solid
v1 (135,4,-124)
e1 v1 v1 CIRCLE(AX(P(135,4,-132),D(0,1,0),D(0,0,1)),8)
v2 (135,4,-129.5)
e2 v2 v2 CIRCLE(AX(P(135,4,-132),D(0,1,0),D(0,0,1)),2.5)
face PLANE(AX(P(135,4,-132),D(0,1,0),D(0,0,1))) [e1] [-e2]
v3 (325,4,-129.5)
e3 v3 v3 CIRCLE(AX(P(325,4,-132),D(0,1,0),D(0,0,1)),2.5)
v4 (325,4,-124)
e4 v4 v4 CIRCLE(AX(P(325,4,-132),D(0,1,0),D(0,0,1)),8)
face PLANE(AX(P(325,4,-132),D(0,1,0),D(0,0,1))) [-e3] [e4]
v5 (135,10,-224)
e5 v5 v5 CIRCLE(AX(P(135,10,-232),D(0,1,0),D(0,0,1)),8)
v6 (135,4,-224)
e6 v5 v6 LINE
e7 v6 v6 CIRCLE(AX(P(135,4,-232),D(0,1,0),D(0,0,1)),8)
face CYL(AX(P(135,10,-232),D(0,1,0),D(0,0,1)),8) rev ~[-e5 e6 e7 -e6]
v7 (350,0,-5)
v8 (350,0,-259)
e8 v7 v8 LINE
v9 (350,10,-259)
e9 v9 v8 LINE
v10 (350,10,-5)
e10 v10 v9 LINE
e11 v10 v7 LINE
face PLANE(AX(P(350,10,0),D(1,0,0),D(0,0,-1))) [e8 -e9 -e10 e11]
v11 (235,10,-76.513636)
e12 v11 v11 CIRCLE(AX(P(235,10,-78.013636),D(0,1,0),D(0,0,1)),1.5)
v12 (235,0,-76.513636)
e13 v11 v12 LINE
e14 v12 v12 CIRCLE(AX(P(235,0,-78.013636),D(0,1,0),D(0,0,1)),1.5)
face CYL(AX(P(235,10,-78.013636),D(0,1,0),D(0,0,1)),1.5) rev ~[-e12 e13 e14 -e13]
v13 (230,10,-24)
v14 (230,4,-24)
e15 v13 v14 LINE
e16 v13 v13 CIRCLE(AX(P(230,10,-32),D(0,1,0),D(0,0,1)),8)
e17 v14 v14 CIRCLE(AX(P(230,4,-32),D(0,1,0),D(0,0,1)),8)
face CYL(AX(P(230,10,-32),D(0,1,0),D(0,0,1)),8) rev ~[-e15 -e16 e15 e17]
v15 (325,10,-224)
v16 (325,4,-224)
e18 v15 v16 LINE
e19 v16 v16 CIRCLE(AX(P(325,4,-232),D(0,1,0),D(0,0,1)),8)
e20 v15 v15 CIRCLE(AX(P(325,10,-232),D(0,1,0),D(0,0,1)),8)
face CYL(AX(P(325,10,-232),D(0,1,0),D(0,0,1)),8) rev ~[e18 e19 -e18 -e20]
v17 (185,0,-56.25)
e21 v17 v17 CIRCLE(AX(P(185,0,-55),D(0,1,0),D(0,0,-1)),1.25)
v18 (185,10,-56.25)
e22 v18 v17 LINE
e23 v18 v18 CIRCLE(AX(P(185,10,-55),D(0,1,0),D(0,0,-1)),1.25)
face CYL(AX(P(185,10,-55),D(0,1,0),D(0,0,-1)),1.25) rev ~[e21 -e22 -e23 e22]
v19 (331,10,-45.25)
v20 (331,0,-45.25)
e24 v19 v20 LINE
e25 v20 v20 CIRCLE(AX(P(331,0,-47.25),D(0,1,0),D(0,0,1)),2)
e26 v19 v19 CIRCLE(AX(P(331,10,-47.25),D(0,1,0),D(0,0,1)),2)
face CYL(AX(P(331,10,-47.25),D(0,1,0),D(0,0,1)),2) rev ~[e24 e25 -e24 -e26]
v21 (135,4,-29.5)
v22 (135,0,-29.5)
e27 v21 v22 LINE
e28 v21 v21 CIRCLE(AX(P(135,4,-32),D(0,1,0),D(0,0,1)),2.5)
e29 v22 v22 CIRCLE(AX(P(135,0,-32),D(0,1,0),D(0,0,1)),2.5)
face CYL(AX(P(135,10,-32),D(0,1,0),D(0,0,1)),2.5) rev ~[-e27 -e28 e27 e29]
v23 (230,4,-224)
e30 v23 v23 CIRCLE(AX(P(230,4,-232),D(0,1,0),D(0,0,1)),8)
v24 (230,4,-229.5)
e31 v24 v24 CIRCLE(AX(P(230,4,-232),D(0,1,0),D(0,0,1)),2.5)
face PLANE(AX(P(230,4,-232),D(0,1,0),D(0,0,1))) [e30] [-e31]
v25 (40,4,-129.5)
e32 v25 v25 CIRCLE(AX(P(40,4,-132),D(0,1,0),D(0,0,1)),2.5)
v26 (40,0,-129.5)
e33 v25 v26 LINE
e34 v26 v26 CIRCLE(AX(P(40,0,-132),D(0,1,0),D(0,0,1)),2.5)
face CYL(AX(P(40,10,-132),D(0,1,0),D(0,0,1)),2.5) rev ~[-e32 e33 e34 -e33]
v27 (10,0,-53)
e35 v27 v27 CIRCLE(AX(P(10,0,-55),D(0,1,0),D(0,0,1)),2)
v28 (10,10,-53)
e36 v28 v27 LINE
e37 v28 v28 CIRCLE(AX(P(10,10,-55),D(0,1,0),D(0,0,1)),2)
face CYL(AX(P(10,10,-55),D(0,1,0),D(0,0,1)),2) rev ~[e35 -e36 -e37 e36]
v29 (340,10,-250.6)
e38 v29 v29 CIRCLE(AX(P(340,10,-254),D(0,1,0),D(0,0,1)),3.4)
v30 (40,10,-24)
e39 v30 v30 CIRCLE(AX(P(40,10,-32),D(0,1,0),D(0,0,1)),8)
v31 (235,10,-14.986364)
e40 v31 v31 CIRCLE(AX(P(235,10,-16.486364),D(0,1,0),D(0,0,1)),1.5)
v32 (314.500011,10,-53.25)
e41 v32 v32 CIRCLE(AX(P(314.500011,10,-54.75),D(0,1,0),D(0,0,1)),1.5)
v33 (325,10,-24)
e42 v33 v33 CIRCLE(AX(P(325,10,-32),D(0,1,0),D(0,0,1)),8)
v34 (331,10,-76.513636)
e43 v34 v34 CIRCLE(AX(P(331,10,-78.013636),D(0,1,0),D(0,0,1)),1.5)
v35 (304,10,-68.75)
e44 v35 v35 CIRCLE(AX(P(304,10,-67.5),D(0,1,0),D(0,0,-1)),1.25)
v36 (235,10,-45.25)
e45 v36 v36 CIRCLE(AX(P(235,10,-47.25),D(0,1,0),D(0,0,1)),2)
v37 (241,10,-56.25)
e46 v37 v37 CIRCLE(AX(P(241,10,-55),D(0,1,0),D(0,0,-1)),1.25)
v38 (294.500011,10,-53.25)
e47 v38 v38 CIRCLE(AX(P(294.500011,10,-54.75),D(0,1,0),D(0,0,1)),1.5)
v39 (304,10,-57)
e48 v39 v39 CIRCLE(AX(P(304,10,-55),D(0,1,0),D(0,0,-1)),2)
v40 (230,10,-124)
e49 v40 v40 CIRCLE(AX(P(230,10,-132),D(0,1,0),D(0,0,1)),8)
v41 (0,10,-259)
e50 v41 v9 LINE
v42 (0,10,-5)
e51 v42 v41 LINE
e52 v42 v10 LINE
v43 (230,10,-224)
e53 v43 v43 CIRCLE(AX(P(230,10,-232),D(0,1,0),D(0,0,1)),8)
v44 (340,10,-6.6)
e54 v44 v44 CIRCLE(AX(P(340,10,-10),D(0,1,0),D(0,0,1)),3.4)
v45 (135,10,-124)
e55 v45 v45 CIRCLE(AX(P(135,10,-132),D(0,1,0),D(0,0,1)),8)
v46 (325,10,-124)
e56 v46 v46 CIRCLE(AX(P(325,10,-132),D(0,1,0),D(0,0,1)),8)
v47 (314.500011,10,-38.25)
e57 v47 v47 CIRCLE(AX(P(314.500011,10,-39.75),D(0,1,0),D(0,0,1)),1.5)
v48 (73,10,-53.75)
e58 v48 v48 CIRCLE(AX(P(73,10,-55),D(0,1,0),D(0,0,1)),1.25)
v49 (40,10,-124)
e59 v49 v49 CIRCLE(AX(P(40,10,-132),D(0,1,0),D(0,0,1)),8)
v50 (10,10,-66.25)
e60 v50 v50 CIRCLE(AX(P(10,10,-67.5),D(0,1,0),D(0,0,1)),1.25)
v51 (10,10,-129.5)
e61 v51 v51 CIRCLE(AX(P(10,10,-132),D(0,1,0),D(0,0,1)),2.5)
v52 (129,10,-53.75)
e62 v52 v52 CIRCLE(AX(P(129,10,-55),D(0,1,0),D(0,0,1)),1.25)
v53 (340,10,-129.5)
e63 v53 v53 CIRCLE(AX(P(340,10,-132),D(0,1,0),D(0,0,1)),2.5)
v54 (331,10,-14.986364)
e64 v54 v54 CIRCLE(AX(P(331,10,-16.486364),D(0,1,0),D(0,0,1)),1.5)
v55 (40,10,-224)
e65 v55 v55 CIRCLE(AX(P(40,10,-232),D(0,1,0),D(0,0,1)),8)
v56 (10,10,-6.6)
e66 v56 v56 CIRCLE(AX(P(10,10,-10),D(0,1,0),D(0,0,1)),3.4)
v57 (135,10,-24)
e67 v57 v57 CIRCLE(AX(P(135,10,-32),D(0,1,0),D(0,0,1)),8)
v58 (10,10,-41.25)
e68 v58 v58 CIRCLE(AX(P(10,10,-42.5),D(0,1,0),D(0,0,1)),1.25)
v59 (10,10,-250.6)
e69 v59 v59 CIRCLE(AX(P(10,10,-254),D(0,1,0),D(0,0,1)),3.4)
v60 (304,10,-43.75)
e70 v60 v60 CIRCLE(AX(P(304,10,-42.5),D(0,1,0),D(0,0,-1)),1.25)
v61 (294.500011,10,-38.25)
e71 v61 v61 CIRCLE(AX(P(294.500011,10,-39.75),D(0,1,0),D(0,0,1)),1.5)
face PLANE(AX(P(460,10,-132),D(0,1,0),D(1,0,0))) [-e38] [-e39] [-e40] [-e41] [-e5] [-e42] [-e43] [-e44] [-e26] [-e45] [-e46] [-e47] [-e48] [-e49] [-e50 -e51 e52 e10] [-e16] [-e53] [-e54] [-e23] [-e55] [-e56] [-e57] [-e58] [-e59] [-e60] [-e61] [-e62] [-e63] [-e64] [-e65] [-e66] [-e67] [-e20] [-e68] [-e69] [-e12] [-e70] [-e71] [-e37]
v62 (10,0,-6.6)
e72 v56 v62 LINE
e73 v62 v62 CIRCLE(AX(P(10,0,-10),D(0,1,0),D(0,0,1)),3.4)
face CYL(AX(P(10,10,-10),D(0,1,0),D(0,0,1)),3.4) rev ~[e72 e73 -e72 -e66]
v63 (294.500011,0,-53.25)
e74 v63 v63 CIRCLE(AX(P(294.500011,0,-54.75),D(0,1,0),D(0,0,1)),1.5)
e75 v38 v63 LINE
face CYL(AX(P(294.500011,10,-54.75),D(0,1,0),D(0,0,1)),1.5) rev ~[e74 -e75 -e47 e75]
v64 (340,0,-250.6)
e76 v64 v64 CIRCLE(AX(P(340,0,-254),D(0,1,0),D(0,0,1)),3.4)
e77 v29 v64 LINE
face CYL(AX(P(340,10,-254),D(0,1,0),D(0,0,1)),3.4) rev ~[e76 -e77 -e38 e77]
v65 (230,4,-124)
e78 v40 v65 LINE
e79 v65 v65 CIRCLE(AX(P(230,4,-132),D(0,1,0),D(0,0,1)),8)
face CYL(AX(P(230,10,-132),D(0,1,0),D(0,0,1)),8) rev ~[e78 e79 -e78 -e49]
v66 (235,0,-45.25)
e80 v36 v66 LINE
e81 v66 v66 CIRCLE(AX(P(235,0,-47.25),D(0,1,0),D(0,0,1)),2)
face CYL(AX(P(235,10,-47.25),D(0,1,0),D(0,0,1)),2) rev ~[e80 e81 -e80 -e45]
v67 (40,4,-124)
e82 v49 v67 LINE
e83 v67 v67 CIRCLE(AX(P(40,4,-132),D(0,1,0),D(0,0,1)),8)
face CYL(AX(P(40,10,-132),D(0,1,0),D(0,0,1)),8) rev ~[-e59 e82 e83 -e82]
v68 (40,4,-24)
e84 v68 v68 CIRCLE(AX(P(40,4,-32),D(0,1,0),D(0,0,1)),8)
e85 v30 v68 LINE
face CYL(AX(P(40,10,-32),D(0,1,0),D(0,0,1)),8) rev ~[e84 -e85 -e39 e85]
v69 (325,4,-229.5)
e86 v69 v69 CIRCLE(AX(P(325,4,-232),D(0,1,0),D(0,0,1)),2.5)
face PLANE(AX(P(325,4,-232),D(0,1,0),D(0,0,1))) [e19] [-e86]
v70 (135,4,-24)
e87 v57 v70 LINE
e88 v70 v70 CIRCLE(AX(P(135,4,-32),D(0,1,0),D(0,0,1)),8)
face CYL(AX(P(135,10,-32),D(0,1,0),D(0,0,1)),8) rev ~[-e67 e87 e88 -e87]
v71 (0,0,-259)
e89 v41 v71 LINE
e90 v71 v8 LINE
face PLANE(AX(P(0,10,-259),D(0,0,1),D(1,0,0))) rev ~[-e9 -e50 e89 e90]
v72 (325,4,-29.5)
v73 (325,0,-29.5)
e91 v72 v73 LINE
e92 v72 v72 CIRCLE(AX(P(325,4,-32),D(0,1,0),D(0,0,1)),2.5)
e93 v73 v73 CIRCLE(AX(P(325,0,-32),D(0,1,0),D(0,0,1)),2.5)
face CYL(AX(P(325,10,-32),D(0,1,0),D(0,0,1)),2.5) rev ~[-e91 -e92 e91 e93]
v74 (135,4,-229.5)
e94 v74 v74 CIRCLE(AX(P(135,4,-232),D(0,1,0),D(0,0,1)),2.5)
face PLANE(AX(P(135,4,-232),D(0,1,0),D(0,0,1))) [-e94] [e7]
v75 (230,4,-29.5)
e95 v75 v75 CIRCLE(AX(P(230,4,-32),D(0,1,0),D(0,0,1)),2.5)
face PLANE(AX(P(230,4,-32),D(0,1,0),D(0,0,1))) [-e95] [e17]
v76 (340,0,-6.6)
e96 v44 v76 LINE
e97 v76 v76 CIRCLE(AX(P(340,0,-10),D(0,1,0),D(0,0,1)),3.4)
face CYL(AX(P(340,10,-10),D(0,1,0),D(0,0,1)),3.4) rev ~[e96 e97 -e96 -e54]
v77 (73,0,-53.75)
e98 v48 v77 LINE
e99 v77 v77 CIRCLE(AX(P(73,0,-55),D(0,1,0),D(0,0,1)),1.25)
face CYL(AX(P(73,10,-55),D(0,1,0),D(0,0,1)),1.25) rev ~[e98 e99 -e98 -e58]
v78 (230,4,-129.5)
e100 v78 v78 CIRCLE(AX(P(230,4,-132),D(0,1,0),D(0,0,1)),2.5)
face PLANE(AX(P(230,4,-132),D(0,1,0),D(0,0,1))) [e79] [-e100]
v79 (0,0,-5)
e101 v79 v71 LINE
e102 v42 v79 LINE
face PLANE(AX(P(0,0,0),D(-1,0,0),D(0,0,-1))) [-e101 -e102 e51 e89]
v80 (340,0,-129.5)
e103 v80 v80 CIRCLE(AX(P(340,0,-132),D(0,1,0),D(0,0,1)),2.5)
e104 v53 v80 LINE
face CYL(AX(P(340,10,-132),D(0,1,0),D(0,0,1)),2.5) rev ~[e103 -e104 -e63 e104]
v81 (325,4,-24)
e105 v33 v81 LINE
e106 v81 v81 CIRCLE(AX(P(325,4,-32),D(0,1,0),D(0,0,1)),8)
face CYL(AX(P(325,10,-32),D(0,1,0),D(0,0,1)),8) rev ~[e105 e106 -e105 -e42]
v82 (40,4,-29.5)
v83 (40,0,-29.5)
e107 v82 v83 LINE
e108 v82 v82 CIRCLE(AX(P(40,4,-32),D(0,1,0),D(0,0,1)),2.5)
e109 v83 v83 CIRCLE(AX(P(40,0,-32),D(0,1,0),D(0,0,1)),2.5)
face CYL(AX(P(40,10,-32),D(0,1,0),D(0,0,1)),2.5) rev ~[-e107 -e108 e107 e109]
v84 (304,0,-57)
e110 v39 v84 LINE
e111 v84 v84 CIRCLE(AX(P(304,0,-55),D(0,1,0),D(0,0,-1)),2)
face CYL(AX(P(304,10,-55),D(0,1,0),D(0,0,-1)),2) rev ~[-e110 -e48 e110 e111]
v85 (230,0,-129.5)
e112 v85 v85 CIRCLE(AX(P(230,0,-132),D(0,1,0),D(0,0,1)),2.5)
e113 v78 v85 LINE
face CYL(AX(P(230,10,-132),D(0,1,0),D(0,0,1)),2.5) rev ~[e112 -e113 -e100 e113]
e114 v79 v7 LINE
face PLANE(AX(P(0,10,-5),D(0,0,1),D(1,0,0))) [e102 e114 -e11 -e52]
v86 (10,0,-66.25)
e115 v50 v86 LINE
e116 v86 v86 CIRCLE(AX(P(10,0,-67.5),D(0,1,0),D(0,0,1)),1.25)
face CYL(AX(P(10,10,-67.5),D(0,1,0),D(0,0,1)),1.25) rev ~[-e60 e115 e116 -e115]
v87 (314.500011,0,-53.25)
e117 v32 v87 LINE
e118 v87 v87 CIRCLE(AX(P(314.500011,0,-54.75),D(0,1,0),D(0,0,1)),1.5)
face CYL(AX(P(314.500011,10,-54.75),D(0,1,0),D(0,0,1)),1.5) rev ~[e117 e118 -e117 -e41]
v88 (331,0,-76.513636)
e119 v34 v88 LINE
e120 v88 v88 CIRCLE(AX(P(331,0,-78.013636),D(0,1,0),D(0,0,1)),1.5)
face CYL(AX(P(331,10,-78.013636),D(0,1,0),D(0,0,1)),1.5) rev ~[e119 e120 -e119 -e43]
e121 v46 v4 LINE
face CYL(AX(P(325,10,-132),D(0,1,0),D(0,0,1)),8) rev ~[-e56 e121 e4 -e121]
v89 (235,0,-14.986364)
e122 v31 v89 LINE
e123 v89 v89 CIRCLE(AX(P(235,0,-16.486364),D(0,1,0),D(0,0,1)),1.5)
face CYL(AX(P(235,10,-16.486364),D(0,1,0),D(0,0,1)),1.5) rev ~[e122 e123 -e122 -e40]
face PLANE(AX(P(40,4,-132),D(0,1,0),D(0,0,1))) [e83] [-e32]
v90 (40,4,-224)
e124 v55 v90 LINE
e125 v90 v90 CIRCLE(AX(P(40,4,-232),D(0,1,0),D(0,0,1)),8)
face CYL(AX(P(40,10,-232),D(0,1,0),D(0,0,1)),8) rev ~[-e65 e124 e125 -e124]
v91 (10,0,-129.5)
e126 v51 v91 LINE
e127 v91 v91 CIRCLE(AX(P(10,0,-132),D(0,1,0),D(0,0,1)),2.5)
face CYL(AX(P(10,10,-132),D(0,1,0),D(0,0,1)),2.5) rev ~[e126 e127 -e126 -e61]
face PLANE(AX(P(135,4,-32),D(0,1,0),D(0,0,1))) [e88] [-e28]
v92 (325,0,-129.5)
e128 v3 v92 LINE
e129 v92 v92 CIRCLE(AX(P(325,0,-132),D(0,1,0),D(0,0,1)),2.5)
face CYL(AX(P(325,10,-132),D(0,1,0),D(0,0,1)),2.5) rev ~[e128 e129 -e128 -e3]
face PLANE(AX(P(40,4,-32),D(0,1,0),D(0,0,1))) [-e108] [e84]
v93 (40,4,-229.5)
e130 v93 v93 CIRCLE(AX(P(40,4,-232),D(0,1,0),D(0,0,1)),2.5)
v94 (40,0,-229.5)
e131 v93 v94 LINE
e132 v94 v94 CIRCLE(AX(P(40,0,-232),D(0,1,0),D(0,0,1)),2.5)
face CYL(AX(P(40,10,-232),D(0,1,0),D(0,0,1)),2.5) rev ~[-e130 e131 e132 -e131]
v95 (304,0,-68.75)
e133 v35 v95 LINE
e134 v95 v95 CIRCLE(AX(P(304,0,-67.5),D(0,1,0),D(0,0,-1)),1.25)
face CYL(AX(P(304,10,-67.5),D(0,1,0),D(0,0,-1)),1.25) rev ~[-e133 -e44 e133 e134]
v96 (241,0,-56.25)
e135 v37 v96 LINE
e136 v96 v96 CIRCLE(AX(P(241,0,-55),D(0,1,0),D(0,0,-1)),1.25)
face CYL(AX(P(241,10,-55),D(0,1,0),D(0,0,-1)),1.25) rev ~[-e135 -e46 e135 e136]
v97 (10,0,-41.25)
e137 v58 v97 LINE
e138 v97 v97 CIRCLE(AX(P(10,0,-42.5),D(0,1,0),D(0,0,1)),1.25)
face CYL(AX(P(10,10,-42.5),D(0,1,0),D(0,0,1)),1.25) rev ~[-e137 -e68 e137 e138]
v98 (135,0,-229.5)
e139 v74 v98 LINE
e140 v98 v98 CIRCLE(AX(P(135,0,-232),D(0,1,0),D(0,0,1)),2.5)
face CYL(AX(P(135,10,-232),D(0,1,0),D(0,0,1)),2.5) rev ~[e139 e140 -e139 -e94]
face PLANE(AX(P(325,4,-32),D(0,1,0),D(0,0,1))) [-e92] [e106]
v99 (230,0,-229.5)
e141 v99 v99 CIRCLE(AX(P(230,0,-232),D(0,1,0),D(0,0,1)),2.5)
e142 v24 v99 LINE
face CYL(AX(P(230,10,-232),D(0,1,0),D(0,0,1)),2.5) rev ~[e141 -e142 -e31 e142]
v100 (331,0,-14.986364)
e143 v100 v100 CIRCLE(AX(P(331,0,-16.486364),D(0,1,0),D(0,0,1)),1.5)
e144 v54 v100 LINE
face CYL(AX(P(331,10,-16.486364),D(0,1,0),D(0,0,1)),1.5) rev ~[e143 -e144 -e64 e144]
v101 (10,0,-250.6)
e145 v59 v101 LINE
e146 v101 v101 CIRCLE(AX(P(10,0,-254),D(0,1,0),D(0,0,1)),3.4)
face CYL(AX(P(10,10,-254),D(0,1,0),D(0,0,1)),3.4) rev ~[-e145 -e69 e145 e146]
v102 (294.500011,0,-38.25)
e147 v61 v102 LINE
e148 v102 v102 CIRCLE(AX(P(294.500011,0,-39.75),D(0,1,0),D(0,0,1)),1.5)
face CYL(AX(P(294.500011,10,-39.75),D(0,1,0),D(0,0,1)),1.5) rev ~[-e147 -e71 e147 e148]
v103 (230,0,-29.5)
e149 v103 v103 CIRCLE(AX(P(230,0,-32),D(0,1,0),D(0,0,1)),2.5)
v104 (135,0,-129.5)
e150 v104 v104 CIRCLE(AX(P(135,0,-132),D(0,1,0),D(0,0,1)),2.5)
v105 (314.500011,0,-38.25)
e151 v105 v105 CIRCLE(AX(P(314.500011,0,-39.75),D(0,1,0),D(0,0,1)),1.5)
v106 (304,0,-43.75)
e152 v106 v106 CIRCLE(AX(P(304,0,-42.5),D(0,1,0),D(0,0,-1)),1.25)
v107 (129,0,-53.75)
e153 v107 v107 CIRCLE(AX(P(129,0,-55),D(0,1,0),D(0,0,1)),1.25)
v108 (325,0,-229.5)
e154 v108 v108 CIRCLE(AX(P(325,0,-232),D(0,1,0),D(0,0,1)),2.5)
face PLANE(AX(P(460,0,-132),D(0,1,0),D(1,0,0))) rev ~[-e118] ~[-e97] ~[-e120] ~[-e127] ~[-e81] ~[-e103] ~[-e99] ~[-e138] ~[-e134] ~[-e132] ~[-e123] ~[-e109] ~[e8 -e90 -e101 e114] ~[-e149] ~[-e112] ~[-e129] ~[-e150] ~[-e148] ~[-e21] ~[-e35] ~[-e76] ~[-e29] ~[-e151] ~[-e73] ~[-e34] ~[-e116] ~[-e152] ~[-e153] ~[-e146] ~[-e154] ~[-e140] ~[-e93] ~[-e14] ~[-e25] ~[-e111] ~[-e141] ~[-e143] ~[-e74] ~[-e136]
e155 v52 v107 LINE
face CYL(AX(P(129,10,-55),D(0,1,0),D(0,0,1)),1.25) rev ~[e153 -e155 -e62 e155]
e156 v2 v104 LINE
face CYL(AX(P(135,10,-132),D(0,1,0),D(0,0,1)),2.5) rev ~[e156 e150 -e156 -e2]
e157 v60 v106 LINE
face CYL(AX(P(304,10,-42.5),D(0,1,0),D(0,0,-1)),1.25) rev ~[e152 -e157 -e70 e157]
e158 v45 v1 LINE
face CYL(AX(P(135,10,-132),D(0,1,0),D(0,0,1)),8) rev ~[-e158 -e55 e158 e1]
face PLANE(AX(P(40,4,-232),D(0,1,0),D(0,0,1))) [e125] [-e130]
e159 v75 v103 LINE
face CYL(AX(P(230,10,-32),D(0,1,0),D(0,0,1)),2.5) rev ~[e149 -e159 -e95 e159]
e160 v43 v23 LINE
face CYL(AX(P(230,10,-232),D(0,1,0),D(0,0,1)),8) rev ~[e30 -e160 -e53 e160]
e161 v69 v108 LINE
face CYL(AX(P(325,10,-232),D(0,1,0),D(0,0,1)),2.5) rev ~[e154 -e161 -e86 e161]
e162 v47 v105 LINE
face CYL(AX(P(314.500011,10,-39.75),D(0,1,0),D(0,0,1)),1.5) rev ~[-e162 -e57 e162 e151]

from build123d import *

# Parameters (mm, degrees)
SKETCH2_W           = 920
SKETCH2_H           = 264
BOSS_EXTRUDE1_DEPTH = 10
SKETCH1_R           = 2.5
CUT_EXTRUDE2_DEPTH  = 18
SKETCH3_R           = 8
CUT_EXTRUDE3_DEPTH  = 6
SKETCH4_W           = 570
SKETCH4_H           = 264
CUT_EXTRUDE4_DEPTH  = 20
SKETCH7_R           = 3.4
SKETCH7_R_2         = 2.5
CUT_EXTRUDE5_DEPTH  = 20
SKETCH8_W           = 350
SKETCH8_H           = 5
CUT_EXTRUDE6_DEPTH  = 10
SKETCH9_R           = 1.25
SKETCH9_R_2         = 2
CUT_EXTRUDE7_DEPTH  = 10
SKETCH10_R          = 1.5
SKETCH10_R_2        = 2
CUT_EXTRUDE8_DEPTH  = 10


with BuildPart() as part:
    # Sketch2 → Boss-Extrude1 (new body)
    with BuildSketch(Plane(origin=(0, 0, 0), x_dir=(1, 0, 0), z_dir=(0, 1, 0))):
        with Locations((460, 132)):
            Rectangle(SKETCH2_W, SKETCH2_H)
    extrude(amount=BOSS_EXTRUDE1_DEPTH)

    # Sketch1 → Cut-Extrude2 (cut)
    with BuildSketch(Plane(origin=(0, 10, 0), x_dir=(1, 0, 0), z_dir=(0, 1, 0))):
        with Locations(Location((40, 32, 0), (0, 0, 270))):
            Circle(SKETCH1_R)
        with Locations(Location((135, 32, 0), (0, 0, 270))):
            Circle(SKETCH1_R)
        with Locations(Location((230, 32, 0), (0, 0, 270))):
            Circle(SKETCH1_R)
        with Locations(Location((325, 32, 0), (0, 0, 270))):
            Circle(SKETCH1_R)
        with Locations(Location((420, 32, 0), (0, 0, 270))):
            Circle(SKETCH1_R)
        with Locations(Location((515, 32, 0), (0, 0, 270))):
            Circle(SKETCH1_R)
        with Locations(Location((610, 32, 0), (0, 0, 270))):
            Circle(SKETCH1_R)
        with Locations(Location((705, 32, 0), (0, 0, 270))):
            Circle(SKETCH1_R)
        with Locations(Location((800, 32, 0), (0, 0, 270))):
            Circle(SKETCH1_R)
        with Locations(Location((895, 32, 0), (0, 0, 270))):
            Circle(SKETCH1_R)
        with Locations(Location((135, 132, 0), (0, 0, 270))):
            Circle(SKETCH1_R)
        with Locations(Location((230, 132, 0), (0, 0, 270))):
            Circle(SKETCH1_R)
        with Locations(Location((325, 132, 0), (0, 0, 270))):
            Circle(SKETCH1_R)
        with Locations(Location((420, 132, 0), (0, 0, 270))):
            Circle(SKETCH1_R)
        with Locations(Location((515, 132, 0), (0, 0, 270))):
            Circle(SKETCH1_R)
        with Locations(Location((610, 132, 0), (0, 0, 270))):
            Circle(SKETCH1_R)
        with Locations(Location((705, 132, 0), (0, 0, 270))):
            Circle(SKETCH1_R)
        with Locations(Location((800, 132, 0), (0, 0, 270))):
            Circle(SKETCH1_R)
        with Locations(Location((895, 132, 0), (0, 0, 270))):
            Circle(SKETCH1_R)
        with Locations(Location((135, 232, 0), (0, 0, 270))):
            Circle(SKETCH1_R)
        with Locations(Location((230, 232, 0), (0, 0, 270))):
            Circle(SKETCH1_R)
        with Locations(Location((325, 232, 0), (0, 0, 270))):
            Circle(SKETCH1_R)
        with Locations(Location((420, 232, 0), (0, 0, 270))):
            Circle(SKETCH1_R)
        with Locations(Location((515, 232, 0), (0, 0, 270))):
            Circle(SKETCH1_R)
        with Locations(Location((610, 232, 0), (0, 0, 270))):
            Circle(SKETCH1_R)
        with Locations(Location((705, 232, 0), (0, 0, 270))):
            Circle(SKETCH1_R)
        with Locations(Location((800, 232, 0), (0, 0, 270))):
            Circle(SKETCH1_R)
        with Locations(Location((895, 232, 0), (0, 0, 270))):
            Circle(SKETCH1_R)
        with Locations(Location((40, 132, 0), (0, 0, 270))):
            Circle(SKETCH1_R)
        with Locations(Location((40, 232, 0), (0, 0, 270))):
            Circle(SKETCH1_R)
    extrude(amount=-CUT_EXTRUDE2_DEPTH, mode=Mode.SUBTRACT)

    # Sketch3 → Cut-Extrude3 (cut)
    with BuildSketch(Plane(origin=(0, 10, 0), x_dir=(1, 0, 0), z_dir=(0, 1, 0))):
        with Locations(Location((40, 32, 0), (0, 0, 270))):
            Circle(SKETCH3_R)
        with Locations(Location((135, 32, 0), (0, 0, 270))):
            Circle(SKETCH3_R)
        with Locations(Location((230, 32, 0), (0, 0, 270))):
            Circle(SKETCH3_R)
        with Locations(Location((325, 32, 0), (0, 0, 270))):
            Circle(SKETCH3_R)
        with Locations(Location((420, 32, 0), (0, 0, 270))):
            Circle(SKETCH3_R)
        with Locations(Location((515, 32, 0), (0, 0, 270))):
            Circle(SKETCH3_R)
        with Locations(Location((610, 32, 0), (0, 0, 270))):
            Circle(SKETCH3_R)
        with Locations(Location((705, 32, 0), (0, 0, 270))):
            Circle(SKETCH3_R)
        with Locations(Location((800, 32, 0), (0, 0, 270))):
            Circle(SKETCH3_R)
        with Locations(Location((895, 32, 0), (0, 0, 270))):
            Circle(SKETCH3_R)
        with Locations(Location((135, 132, 0), (0, 0, 270))):
            Circle(SKETCH3_R)
        with Locations(Location((230, 132, 0), (0, 0, 270))):
            Circle(SKETCH3_R)
        with Locations(Location((325, 132, 0), (0, 0, 270))):
            Circle(SKETCH3_R)
        with Locations(Location((420, 132, 0), (0, 0, 270))):
            Circle(SKETCH3_R)
        with Locations(Location((515, 132, 0), (0, 0, 270))):
            Circle(SKETCH3_R)
        with Locations(Location((610, 132, 0), (0, 0, 270))):
            Circle(SKETCH3_R)
        with Locations(Location((705, 132, 0), (0, 0, 270))):
            Circle(SKETCH3_R)
        with Locations(Location((800, 132, 0), (0, 0, 270))):
            Circle(SKETCH3_R)
        with Locations(Location((895, 132, 0), (0, 0, 270))):
            Circle(SKETCH3_R)
        with Locations(Location((135, 232, 0), (0, 0, 270))):
            Circle(SKETCH3_R)
        with Locations(Location((230, 232, 0), (0, 0, 270))):
            Circle(SKETCH3_R)
        with Locations(Location((325, 232, 0), (0, 0, 270))):
            Circle(SKETCH3_R)
        with Locations(Location((420, 232, 0), (0, 0, 270))):
            Circle(SKETCH3_R)
        with Locations(Location((515, 232, 0), (0, 0, 270))):
            Circle(SKETCH3_R)
        with Locations(Location((610, 232, 0), (0, 0, 270))):
            Circle(SKETCH3_R)
        with Locations(Location((705, 232, 0), (0, 0, 270))):
            Circle(SKETCH3_R)
        with Locations(Location((800, 232, 0), (0, 0, 270))):
            Circle(SKETCH3_R)
        with Locations(Location((895, 232, 0), (0, 0, 270))):
            Circle(SKETCH3_R)
        with Locations(Location((40, 132, 0), (0, 0, 270))):
            Circle(SKETCH3_R)
        with Locations(Location((40, 232, 0), (0, 0, 270))):
            Circle(SKETCH3_R)
    extrude(amount=-CUT_EXTRUDE3_DEPTH, mode=Mode.SUBTRACT)

    # Sketch4 → Cut-Extrude4 (cut)
    with BuildSketch(Plane(origin=(0, 10, 0), x_dir=(1, 0, 0), z_dir=(0, 1, 0))):
        with Locations((635, 132)):
            Rectangle(SKETCH4_W, SKETCH4_H)
    extrude(amount=-CUT_EXTRUDE4_DEPTH, mode=Mode.SUBTRACT)

    # Sketch7 → Cut-Extrude5 (cut)
    with BuildSketch(Plane(origin=(0, 10, 0), x_dir=(1, 0, 0), z_dir=(0, 1, 0))):
        with Locations(Location((10, 254, 0), (0, 0, 270))):
            Circle(SKETCH7_R)
        with Locations(Location((340, 254, 0), (0, 0, 270))):
            Circle(SKETCH7_R)
        with Locations(Location((340, 10, 0), (0, 0, 270))):
            Circle(SKETCH7_R)
        with Locations(Location((10, 10, 0), (0, 0, 270))):
            Circle(SKETCH7_R)
        with Locations(Location((10, 132, 0), (0, 0, 270))):
            Circle(SKETCH7_R_2)
        with Locations(Location((340, 132, 0), (0, 0, 270))):
            Circle(SKETCH7_R_2)
    extrude(amount=-CUT_EXTRUDE5_DEPTH, mode=Mode.SUBTRACT)

    # Sketch8 → Cut-Extrude6 (cut)
    with BuildSketch(Plane(origin=(0, 10, 0), x_dir=(1, 0, 0), z_dir=(0, 1, 0))):
        with Locations((175, 261.5)):
            Rectangle(SKETCH8_W, SKETCH8_H)
        with Locations((175, 2.5)):
            Rectangle(SKETCH8_W, SKETCH8_H)
    extrude(amount=-CUT_EXTRUDE6_DEPTH, mode=Mode.SUBTRACT)

    # Sketch9 → Cut-Extrude7 (cut)
    with BuildSketch(Plane(origin=(0, 10, 0), x_dir=(1, 0, 0), z_dir=(0, 1, 0))):
        with Locations(Location((10, 67.5, 0), (0, 0, 270))):
            Circle(SKETCH9_R)
        with Locations(Location((10, 42.5, 0), (0, 0, 270))):
            Circle(SKETCH9_R)
        with Locations(Location((304, 67.5, 0), (0, 0, 90))):
            Circle(SKETCH9_R)
        with Locations(Location((304, 42.5, 0), (0, 0, 90))):
            Circle(SKETCH9_R)
        with Locations(Location((73, 55, 0), (0, 0, 270))):
            Circle(SKETCH9_R)
        with Locations(Location((129, 55, 0), (0, 0, 270))):
            Circle(SKETCH9_R)
        with Locations(Location((185, 55, 0), (0, 0, 90))):
            Circle(SKETCH9_R)
        with Locations(Location((241, 55, 0), (0, 0, 90))):
            Circle(SKETCH9_R)
        with Locations(Location((10, 55, 0), (0, 0, 270))):
            Circle(SKETCH9_R_2)
        with Locations(Location((304, 55, 0), (0, 0, 90))):
            Circle(SKETCH9_R_2)
    extrude(amount=-CUT_EXTRUDE7_DEPTH, mode=Mode.SUBTRACT)

    # Sketch10 → Cut-Extrude8 (cut)
    with BuildSketch(Plane(origin=(0, 10, 0), x_dir=(1, 0, 0), z_dir=(0, 1, 0))):
        with Locations(Location((235, 78.013636364, 0), (0, 0, 270))):
            Circle(SKETCH10_R)
        with Locations(Location((235, 16.486363636, 0), (0, 0, 270))):
            Circle(SKETCH10_R)
        with Locations(Location((294.500010803, 39.75, 0), (0, 0, 270))):
            Circle(SKETCH10_R)
        with Locations(Location((314.500010803, 54.75, 0), (0, 0, 270))):
            Circle(SKETCH10_R)
        with Locations(Location((331, 16.486363636, 0), (0, 0, 270))):
            Circle(SKETCH10_R)
        with Locations(Location((331, 47.25, 0), (0, 0, 270))):
            Circle(SKETCH10_R_2)
        with Locations(Location((331, 78.013636364, 0), (0, 0, 270))):
            Circle(SKETCH10_R)
        with Locations(Location((235, 47.25, 0), (0, 0, 270))):
            Circle(SKETCH10_R_2)
        with Locations(Location((294.500010803, 54.75, 0), (0, 0, 270))):
            Circle(SKETCH10_R)
        with Locations(Location((314.500010803, 39.75, 0), (0, 0, 270))):
            Circle(SKETCH10_R)
    extrude(amount=-CUT_EXTRUDE8_DEPTH, mode=Mode.SUBTRACT)


solid = part.part
